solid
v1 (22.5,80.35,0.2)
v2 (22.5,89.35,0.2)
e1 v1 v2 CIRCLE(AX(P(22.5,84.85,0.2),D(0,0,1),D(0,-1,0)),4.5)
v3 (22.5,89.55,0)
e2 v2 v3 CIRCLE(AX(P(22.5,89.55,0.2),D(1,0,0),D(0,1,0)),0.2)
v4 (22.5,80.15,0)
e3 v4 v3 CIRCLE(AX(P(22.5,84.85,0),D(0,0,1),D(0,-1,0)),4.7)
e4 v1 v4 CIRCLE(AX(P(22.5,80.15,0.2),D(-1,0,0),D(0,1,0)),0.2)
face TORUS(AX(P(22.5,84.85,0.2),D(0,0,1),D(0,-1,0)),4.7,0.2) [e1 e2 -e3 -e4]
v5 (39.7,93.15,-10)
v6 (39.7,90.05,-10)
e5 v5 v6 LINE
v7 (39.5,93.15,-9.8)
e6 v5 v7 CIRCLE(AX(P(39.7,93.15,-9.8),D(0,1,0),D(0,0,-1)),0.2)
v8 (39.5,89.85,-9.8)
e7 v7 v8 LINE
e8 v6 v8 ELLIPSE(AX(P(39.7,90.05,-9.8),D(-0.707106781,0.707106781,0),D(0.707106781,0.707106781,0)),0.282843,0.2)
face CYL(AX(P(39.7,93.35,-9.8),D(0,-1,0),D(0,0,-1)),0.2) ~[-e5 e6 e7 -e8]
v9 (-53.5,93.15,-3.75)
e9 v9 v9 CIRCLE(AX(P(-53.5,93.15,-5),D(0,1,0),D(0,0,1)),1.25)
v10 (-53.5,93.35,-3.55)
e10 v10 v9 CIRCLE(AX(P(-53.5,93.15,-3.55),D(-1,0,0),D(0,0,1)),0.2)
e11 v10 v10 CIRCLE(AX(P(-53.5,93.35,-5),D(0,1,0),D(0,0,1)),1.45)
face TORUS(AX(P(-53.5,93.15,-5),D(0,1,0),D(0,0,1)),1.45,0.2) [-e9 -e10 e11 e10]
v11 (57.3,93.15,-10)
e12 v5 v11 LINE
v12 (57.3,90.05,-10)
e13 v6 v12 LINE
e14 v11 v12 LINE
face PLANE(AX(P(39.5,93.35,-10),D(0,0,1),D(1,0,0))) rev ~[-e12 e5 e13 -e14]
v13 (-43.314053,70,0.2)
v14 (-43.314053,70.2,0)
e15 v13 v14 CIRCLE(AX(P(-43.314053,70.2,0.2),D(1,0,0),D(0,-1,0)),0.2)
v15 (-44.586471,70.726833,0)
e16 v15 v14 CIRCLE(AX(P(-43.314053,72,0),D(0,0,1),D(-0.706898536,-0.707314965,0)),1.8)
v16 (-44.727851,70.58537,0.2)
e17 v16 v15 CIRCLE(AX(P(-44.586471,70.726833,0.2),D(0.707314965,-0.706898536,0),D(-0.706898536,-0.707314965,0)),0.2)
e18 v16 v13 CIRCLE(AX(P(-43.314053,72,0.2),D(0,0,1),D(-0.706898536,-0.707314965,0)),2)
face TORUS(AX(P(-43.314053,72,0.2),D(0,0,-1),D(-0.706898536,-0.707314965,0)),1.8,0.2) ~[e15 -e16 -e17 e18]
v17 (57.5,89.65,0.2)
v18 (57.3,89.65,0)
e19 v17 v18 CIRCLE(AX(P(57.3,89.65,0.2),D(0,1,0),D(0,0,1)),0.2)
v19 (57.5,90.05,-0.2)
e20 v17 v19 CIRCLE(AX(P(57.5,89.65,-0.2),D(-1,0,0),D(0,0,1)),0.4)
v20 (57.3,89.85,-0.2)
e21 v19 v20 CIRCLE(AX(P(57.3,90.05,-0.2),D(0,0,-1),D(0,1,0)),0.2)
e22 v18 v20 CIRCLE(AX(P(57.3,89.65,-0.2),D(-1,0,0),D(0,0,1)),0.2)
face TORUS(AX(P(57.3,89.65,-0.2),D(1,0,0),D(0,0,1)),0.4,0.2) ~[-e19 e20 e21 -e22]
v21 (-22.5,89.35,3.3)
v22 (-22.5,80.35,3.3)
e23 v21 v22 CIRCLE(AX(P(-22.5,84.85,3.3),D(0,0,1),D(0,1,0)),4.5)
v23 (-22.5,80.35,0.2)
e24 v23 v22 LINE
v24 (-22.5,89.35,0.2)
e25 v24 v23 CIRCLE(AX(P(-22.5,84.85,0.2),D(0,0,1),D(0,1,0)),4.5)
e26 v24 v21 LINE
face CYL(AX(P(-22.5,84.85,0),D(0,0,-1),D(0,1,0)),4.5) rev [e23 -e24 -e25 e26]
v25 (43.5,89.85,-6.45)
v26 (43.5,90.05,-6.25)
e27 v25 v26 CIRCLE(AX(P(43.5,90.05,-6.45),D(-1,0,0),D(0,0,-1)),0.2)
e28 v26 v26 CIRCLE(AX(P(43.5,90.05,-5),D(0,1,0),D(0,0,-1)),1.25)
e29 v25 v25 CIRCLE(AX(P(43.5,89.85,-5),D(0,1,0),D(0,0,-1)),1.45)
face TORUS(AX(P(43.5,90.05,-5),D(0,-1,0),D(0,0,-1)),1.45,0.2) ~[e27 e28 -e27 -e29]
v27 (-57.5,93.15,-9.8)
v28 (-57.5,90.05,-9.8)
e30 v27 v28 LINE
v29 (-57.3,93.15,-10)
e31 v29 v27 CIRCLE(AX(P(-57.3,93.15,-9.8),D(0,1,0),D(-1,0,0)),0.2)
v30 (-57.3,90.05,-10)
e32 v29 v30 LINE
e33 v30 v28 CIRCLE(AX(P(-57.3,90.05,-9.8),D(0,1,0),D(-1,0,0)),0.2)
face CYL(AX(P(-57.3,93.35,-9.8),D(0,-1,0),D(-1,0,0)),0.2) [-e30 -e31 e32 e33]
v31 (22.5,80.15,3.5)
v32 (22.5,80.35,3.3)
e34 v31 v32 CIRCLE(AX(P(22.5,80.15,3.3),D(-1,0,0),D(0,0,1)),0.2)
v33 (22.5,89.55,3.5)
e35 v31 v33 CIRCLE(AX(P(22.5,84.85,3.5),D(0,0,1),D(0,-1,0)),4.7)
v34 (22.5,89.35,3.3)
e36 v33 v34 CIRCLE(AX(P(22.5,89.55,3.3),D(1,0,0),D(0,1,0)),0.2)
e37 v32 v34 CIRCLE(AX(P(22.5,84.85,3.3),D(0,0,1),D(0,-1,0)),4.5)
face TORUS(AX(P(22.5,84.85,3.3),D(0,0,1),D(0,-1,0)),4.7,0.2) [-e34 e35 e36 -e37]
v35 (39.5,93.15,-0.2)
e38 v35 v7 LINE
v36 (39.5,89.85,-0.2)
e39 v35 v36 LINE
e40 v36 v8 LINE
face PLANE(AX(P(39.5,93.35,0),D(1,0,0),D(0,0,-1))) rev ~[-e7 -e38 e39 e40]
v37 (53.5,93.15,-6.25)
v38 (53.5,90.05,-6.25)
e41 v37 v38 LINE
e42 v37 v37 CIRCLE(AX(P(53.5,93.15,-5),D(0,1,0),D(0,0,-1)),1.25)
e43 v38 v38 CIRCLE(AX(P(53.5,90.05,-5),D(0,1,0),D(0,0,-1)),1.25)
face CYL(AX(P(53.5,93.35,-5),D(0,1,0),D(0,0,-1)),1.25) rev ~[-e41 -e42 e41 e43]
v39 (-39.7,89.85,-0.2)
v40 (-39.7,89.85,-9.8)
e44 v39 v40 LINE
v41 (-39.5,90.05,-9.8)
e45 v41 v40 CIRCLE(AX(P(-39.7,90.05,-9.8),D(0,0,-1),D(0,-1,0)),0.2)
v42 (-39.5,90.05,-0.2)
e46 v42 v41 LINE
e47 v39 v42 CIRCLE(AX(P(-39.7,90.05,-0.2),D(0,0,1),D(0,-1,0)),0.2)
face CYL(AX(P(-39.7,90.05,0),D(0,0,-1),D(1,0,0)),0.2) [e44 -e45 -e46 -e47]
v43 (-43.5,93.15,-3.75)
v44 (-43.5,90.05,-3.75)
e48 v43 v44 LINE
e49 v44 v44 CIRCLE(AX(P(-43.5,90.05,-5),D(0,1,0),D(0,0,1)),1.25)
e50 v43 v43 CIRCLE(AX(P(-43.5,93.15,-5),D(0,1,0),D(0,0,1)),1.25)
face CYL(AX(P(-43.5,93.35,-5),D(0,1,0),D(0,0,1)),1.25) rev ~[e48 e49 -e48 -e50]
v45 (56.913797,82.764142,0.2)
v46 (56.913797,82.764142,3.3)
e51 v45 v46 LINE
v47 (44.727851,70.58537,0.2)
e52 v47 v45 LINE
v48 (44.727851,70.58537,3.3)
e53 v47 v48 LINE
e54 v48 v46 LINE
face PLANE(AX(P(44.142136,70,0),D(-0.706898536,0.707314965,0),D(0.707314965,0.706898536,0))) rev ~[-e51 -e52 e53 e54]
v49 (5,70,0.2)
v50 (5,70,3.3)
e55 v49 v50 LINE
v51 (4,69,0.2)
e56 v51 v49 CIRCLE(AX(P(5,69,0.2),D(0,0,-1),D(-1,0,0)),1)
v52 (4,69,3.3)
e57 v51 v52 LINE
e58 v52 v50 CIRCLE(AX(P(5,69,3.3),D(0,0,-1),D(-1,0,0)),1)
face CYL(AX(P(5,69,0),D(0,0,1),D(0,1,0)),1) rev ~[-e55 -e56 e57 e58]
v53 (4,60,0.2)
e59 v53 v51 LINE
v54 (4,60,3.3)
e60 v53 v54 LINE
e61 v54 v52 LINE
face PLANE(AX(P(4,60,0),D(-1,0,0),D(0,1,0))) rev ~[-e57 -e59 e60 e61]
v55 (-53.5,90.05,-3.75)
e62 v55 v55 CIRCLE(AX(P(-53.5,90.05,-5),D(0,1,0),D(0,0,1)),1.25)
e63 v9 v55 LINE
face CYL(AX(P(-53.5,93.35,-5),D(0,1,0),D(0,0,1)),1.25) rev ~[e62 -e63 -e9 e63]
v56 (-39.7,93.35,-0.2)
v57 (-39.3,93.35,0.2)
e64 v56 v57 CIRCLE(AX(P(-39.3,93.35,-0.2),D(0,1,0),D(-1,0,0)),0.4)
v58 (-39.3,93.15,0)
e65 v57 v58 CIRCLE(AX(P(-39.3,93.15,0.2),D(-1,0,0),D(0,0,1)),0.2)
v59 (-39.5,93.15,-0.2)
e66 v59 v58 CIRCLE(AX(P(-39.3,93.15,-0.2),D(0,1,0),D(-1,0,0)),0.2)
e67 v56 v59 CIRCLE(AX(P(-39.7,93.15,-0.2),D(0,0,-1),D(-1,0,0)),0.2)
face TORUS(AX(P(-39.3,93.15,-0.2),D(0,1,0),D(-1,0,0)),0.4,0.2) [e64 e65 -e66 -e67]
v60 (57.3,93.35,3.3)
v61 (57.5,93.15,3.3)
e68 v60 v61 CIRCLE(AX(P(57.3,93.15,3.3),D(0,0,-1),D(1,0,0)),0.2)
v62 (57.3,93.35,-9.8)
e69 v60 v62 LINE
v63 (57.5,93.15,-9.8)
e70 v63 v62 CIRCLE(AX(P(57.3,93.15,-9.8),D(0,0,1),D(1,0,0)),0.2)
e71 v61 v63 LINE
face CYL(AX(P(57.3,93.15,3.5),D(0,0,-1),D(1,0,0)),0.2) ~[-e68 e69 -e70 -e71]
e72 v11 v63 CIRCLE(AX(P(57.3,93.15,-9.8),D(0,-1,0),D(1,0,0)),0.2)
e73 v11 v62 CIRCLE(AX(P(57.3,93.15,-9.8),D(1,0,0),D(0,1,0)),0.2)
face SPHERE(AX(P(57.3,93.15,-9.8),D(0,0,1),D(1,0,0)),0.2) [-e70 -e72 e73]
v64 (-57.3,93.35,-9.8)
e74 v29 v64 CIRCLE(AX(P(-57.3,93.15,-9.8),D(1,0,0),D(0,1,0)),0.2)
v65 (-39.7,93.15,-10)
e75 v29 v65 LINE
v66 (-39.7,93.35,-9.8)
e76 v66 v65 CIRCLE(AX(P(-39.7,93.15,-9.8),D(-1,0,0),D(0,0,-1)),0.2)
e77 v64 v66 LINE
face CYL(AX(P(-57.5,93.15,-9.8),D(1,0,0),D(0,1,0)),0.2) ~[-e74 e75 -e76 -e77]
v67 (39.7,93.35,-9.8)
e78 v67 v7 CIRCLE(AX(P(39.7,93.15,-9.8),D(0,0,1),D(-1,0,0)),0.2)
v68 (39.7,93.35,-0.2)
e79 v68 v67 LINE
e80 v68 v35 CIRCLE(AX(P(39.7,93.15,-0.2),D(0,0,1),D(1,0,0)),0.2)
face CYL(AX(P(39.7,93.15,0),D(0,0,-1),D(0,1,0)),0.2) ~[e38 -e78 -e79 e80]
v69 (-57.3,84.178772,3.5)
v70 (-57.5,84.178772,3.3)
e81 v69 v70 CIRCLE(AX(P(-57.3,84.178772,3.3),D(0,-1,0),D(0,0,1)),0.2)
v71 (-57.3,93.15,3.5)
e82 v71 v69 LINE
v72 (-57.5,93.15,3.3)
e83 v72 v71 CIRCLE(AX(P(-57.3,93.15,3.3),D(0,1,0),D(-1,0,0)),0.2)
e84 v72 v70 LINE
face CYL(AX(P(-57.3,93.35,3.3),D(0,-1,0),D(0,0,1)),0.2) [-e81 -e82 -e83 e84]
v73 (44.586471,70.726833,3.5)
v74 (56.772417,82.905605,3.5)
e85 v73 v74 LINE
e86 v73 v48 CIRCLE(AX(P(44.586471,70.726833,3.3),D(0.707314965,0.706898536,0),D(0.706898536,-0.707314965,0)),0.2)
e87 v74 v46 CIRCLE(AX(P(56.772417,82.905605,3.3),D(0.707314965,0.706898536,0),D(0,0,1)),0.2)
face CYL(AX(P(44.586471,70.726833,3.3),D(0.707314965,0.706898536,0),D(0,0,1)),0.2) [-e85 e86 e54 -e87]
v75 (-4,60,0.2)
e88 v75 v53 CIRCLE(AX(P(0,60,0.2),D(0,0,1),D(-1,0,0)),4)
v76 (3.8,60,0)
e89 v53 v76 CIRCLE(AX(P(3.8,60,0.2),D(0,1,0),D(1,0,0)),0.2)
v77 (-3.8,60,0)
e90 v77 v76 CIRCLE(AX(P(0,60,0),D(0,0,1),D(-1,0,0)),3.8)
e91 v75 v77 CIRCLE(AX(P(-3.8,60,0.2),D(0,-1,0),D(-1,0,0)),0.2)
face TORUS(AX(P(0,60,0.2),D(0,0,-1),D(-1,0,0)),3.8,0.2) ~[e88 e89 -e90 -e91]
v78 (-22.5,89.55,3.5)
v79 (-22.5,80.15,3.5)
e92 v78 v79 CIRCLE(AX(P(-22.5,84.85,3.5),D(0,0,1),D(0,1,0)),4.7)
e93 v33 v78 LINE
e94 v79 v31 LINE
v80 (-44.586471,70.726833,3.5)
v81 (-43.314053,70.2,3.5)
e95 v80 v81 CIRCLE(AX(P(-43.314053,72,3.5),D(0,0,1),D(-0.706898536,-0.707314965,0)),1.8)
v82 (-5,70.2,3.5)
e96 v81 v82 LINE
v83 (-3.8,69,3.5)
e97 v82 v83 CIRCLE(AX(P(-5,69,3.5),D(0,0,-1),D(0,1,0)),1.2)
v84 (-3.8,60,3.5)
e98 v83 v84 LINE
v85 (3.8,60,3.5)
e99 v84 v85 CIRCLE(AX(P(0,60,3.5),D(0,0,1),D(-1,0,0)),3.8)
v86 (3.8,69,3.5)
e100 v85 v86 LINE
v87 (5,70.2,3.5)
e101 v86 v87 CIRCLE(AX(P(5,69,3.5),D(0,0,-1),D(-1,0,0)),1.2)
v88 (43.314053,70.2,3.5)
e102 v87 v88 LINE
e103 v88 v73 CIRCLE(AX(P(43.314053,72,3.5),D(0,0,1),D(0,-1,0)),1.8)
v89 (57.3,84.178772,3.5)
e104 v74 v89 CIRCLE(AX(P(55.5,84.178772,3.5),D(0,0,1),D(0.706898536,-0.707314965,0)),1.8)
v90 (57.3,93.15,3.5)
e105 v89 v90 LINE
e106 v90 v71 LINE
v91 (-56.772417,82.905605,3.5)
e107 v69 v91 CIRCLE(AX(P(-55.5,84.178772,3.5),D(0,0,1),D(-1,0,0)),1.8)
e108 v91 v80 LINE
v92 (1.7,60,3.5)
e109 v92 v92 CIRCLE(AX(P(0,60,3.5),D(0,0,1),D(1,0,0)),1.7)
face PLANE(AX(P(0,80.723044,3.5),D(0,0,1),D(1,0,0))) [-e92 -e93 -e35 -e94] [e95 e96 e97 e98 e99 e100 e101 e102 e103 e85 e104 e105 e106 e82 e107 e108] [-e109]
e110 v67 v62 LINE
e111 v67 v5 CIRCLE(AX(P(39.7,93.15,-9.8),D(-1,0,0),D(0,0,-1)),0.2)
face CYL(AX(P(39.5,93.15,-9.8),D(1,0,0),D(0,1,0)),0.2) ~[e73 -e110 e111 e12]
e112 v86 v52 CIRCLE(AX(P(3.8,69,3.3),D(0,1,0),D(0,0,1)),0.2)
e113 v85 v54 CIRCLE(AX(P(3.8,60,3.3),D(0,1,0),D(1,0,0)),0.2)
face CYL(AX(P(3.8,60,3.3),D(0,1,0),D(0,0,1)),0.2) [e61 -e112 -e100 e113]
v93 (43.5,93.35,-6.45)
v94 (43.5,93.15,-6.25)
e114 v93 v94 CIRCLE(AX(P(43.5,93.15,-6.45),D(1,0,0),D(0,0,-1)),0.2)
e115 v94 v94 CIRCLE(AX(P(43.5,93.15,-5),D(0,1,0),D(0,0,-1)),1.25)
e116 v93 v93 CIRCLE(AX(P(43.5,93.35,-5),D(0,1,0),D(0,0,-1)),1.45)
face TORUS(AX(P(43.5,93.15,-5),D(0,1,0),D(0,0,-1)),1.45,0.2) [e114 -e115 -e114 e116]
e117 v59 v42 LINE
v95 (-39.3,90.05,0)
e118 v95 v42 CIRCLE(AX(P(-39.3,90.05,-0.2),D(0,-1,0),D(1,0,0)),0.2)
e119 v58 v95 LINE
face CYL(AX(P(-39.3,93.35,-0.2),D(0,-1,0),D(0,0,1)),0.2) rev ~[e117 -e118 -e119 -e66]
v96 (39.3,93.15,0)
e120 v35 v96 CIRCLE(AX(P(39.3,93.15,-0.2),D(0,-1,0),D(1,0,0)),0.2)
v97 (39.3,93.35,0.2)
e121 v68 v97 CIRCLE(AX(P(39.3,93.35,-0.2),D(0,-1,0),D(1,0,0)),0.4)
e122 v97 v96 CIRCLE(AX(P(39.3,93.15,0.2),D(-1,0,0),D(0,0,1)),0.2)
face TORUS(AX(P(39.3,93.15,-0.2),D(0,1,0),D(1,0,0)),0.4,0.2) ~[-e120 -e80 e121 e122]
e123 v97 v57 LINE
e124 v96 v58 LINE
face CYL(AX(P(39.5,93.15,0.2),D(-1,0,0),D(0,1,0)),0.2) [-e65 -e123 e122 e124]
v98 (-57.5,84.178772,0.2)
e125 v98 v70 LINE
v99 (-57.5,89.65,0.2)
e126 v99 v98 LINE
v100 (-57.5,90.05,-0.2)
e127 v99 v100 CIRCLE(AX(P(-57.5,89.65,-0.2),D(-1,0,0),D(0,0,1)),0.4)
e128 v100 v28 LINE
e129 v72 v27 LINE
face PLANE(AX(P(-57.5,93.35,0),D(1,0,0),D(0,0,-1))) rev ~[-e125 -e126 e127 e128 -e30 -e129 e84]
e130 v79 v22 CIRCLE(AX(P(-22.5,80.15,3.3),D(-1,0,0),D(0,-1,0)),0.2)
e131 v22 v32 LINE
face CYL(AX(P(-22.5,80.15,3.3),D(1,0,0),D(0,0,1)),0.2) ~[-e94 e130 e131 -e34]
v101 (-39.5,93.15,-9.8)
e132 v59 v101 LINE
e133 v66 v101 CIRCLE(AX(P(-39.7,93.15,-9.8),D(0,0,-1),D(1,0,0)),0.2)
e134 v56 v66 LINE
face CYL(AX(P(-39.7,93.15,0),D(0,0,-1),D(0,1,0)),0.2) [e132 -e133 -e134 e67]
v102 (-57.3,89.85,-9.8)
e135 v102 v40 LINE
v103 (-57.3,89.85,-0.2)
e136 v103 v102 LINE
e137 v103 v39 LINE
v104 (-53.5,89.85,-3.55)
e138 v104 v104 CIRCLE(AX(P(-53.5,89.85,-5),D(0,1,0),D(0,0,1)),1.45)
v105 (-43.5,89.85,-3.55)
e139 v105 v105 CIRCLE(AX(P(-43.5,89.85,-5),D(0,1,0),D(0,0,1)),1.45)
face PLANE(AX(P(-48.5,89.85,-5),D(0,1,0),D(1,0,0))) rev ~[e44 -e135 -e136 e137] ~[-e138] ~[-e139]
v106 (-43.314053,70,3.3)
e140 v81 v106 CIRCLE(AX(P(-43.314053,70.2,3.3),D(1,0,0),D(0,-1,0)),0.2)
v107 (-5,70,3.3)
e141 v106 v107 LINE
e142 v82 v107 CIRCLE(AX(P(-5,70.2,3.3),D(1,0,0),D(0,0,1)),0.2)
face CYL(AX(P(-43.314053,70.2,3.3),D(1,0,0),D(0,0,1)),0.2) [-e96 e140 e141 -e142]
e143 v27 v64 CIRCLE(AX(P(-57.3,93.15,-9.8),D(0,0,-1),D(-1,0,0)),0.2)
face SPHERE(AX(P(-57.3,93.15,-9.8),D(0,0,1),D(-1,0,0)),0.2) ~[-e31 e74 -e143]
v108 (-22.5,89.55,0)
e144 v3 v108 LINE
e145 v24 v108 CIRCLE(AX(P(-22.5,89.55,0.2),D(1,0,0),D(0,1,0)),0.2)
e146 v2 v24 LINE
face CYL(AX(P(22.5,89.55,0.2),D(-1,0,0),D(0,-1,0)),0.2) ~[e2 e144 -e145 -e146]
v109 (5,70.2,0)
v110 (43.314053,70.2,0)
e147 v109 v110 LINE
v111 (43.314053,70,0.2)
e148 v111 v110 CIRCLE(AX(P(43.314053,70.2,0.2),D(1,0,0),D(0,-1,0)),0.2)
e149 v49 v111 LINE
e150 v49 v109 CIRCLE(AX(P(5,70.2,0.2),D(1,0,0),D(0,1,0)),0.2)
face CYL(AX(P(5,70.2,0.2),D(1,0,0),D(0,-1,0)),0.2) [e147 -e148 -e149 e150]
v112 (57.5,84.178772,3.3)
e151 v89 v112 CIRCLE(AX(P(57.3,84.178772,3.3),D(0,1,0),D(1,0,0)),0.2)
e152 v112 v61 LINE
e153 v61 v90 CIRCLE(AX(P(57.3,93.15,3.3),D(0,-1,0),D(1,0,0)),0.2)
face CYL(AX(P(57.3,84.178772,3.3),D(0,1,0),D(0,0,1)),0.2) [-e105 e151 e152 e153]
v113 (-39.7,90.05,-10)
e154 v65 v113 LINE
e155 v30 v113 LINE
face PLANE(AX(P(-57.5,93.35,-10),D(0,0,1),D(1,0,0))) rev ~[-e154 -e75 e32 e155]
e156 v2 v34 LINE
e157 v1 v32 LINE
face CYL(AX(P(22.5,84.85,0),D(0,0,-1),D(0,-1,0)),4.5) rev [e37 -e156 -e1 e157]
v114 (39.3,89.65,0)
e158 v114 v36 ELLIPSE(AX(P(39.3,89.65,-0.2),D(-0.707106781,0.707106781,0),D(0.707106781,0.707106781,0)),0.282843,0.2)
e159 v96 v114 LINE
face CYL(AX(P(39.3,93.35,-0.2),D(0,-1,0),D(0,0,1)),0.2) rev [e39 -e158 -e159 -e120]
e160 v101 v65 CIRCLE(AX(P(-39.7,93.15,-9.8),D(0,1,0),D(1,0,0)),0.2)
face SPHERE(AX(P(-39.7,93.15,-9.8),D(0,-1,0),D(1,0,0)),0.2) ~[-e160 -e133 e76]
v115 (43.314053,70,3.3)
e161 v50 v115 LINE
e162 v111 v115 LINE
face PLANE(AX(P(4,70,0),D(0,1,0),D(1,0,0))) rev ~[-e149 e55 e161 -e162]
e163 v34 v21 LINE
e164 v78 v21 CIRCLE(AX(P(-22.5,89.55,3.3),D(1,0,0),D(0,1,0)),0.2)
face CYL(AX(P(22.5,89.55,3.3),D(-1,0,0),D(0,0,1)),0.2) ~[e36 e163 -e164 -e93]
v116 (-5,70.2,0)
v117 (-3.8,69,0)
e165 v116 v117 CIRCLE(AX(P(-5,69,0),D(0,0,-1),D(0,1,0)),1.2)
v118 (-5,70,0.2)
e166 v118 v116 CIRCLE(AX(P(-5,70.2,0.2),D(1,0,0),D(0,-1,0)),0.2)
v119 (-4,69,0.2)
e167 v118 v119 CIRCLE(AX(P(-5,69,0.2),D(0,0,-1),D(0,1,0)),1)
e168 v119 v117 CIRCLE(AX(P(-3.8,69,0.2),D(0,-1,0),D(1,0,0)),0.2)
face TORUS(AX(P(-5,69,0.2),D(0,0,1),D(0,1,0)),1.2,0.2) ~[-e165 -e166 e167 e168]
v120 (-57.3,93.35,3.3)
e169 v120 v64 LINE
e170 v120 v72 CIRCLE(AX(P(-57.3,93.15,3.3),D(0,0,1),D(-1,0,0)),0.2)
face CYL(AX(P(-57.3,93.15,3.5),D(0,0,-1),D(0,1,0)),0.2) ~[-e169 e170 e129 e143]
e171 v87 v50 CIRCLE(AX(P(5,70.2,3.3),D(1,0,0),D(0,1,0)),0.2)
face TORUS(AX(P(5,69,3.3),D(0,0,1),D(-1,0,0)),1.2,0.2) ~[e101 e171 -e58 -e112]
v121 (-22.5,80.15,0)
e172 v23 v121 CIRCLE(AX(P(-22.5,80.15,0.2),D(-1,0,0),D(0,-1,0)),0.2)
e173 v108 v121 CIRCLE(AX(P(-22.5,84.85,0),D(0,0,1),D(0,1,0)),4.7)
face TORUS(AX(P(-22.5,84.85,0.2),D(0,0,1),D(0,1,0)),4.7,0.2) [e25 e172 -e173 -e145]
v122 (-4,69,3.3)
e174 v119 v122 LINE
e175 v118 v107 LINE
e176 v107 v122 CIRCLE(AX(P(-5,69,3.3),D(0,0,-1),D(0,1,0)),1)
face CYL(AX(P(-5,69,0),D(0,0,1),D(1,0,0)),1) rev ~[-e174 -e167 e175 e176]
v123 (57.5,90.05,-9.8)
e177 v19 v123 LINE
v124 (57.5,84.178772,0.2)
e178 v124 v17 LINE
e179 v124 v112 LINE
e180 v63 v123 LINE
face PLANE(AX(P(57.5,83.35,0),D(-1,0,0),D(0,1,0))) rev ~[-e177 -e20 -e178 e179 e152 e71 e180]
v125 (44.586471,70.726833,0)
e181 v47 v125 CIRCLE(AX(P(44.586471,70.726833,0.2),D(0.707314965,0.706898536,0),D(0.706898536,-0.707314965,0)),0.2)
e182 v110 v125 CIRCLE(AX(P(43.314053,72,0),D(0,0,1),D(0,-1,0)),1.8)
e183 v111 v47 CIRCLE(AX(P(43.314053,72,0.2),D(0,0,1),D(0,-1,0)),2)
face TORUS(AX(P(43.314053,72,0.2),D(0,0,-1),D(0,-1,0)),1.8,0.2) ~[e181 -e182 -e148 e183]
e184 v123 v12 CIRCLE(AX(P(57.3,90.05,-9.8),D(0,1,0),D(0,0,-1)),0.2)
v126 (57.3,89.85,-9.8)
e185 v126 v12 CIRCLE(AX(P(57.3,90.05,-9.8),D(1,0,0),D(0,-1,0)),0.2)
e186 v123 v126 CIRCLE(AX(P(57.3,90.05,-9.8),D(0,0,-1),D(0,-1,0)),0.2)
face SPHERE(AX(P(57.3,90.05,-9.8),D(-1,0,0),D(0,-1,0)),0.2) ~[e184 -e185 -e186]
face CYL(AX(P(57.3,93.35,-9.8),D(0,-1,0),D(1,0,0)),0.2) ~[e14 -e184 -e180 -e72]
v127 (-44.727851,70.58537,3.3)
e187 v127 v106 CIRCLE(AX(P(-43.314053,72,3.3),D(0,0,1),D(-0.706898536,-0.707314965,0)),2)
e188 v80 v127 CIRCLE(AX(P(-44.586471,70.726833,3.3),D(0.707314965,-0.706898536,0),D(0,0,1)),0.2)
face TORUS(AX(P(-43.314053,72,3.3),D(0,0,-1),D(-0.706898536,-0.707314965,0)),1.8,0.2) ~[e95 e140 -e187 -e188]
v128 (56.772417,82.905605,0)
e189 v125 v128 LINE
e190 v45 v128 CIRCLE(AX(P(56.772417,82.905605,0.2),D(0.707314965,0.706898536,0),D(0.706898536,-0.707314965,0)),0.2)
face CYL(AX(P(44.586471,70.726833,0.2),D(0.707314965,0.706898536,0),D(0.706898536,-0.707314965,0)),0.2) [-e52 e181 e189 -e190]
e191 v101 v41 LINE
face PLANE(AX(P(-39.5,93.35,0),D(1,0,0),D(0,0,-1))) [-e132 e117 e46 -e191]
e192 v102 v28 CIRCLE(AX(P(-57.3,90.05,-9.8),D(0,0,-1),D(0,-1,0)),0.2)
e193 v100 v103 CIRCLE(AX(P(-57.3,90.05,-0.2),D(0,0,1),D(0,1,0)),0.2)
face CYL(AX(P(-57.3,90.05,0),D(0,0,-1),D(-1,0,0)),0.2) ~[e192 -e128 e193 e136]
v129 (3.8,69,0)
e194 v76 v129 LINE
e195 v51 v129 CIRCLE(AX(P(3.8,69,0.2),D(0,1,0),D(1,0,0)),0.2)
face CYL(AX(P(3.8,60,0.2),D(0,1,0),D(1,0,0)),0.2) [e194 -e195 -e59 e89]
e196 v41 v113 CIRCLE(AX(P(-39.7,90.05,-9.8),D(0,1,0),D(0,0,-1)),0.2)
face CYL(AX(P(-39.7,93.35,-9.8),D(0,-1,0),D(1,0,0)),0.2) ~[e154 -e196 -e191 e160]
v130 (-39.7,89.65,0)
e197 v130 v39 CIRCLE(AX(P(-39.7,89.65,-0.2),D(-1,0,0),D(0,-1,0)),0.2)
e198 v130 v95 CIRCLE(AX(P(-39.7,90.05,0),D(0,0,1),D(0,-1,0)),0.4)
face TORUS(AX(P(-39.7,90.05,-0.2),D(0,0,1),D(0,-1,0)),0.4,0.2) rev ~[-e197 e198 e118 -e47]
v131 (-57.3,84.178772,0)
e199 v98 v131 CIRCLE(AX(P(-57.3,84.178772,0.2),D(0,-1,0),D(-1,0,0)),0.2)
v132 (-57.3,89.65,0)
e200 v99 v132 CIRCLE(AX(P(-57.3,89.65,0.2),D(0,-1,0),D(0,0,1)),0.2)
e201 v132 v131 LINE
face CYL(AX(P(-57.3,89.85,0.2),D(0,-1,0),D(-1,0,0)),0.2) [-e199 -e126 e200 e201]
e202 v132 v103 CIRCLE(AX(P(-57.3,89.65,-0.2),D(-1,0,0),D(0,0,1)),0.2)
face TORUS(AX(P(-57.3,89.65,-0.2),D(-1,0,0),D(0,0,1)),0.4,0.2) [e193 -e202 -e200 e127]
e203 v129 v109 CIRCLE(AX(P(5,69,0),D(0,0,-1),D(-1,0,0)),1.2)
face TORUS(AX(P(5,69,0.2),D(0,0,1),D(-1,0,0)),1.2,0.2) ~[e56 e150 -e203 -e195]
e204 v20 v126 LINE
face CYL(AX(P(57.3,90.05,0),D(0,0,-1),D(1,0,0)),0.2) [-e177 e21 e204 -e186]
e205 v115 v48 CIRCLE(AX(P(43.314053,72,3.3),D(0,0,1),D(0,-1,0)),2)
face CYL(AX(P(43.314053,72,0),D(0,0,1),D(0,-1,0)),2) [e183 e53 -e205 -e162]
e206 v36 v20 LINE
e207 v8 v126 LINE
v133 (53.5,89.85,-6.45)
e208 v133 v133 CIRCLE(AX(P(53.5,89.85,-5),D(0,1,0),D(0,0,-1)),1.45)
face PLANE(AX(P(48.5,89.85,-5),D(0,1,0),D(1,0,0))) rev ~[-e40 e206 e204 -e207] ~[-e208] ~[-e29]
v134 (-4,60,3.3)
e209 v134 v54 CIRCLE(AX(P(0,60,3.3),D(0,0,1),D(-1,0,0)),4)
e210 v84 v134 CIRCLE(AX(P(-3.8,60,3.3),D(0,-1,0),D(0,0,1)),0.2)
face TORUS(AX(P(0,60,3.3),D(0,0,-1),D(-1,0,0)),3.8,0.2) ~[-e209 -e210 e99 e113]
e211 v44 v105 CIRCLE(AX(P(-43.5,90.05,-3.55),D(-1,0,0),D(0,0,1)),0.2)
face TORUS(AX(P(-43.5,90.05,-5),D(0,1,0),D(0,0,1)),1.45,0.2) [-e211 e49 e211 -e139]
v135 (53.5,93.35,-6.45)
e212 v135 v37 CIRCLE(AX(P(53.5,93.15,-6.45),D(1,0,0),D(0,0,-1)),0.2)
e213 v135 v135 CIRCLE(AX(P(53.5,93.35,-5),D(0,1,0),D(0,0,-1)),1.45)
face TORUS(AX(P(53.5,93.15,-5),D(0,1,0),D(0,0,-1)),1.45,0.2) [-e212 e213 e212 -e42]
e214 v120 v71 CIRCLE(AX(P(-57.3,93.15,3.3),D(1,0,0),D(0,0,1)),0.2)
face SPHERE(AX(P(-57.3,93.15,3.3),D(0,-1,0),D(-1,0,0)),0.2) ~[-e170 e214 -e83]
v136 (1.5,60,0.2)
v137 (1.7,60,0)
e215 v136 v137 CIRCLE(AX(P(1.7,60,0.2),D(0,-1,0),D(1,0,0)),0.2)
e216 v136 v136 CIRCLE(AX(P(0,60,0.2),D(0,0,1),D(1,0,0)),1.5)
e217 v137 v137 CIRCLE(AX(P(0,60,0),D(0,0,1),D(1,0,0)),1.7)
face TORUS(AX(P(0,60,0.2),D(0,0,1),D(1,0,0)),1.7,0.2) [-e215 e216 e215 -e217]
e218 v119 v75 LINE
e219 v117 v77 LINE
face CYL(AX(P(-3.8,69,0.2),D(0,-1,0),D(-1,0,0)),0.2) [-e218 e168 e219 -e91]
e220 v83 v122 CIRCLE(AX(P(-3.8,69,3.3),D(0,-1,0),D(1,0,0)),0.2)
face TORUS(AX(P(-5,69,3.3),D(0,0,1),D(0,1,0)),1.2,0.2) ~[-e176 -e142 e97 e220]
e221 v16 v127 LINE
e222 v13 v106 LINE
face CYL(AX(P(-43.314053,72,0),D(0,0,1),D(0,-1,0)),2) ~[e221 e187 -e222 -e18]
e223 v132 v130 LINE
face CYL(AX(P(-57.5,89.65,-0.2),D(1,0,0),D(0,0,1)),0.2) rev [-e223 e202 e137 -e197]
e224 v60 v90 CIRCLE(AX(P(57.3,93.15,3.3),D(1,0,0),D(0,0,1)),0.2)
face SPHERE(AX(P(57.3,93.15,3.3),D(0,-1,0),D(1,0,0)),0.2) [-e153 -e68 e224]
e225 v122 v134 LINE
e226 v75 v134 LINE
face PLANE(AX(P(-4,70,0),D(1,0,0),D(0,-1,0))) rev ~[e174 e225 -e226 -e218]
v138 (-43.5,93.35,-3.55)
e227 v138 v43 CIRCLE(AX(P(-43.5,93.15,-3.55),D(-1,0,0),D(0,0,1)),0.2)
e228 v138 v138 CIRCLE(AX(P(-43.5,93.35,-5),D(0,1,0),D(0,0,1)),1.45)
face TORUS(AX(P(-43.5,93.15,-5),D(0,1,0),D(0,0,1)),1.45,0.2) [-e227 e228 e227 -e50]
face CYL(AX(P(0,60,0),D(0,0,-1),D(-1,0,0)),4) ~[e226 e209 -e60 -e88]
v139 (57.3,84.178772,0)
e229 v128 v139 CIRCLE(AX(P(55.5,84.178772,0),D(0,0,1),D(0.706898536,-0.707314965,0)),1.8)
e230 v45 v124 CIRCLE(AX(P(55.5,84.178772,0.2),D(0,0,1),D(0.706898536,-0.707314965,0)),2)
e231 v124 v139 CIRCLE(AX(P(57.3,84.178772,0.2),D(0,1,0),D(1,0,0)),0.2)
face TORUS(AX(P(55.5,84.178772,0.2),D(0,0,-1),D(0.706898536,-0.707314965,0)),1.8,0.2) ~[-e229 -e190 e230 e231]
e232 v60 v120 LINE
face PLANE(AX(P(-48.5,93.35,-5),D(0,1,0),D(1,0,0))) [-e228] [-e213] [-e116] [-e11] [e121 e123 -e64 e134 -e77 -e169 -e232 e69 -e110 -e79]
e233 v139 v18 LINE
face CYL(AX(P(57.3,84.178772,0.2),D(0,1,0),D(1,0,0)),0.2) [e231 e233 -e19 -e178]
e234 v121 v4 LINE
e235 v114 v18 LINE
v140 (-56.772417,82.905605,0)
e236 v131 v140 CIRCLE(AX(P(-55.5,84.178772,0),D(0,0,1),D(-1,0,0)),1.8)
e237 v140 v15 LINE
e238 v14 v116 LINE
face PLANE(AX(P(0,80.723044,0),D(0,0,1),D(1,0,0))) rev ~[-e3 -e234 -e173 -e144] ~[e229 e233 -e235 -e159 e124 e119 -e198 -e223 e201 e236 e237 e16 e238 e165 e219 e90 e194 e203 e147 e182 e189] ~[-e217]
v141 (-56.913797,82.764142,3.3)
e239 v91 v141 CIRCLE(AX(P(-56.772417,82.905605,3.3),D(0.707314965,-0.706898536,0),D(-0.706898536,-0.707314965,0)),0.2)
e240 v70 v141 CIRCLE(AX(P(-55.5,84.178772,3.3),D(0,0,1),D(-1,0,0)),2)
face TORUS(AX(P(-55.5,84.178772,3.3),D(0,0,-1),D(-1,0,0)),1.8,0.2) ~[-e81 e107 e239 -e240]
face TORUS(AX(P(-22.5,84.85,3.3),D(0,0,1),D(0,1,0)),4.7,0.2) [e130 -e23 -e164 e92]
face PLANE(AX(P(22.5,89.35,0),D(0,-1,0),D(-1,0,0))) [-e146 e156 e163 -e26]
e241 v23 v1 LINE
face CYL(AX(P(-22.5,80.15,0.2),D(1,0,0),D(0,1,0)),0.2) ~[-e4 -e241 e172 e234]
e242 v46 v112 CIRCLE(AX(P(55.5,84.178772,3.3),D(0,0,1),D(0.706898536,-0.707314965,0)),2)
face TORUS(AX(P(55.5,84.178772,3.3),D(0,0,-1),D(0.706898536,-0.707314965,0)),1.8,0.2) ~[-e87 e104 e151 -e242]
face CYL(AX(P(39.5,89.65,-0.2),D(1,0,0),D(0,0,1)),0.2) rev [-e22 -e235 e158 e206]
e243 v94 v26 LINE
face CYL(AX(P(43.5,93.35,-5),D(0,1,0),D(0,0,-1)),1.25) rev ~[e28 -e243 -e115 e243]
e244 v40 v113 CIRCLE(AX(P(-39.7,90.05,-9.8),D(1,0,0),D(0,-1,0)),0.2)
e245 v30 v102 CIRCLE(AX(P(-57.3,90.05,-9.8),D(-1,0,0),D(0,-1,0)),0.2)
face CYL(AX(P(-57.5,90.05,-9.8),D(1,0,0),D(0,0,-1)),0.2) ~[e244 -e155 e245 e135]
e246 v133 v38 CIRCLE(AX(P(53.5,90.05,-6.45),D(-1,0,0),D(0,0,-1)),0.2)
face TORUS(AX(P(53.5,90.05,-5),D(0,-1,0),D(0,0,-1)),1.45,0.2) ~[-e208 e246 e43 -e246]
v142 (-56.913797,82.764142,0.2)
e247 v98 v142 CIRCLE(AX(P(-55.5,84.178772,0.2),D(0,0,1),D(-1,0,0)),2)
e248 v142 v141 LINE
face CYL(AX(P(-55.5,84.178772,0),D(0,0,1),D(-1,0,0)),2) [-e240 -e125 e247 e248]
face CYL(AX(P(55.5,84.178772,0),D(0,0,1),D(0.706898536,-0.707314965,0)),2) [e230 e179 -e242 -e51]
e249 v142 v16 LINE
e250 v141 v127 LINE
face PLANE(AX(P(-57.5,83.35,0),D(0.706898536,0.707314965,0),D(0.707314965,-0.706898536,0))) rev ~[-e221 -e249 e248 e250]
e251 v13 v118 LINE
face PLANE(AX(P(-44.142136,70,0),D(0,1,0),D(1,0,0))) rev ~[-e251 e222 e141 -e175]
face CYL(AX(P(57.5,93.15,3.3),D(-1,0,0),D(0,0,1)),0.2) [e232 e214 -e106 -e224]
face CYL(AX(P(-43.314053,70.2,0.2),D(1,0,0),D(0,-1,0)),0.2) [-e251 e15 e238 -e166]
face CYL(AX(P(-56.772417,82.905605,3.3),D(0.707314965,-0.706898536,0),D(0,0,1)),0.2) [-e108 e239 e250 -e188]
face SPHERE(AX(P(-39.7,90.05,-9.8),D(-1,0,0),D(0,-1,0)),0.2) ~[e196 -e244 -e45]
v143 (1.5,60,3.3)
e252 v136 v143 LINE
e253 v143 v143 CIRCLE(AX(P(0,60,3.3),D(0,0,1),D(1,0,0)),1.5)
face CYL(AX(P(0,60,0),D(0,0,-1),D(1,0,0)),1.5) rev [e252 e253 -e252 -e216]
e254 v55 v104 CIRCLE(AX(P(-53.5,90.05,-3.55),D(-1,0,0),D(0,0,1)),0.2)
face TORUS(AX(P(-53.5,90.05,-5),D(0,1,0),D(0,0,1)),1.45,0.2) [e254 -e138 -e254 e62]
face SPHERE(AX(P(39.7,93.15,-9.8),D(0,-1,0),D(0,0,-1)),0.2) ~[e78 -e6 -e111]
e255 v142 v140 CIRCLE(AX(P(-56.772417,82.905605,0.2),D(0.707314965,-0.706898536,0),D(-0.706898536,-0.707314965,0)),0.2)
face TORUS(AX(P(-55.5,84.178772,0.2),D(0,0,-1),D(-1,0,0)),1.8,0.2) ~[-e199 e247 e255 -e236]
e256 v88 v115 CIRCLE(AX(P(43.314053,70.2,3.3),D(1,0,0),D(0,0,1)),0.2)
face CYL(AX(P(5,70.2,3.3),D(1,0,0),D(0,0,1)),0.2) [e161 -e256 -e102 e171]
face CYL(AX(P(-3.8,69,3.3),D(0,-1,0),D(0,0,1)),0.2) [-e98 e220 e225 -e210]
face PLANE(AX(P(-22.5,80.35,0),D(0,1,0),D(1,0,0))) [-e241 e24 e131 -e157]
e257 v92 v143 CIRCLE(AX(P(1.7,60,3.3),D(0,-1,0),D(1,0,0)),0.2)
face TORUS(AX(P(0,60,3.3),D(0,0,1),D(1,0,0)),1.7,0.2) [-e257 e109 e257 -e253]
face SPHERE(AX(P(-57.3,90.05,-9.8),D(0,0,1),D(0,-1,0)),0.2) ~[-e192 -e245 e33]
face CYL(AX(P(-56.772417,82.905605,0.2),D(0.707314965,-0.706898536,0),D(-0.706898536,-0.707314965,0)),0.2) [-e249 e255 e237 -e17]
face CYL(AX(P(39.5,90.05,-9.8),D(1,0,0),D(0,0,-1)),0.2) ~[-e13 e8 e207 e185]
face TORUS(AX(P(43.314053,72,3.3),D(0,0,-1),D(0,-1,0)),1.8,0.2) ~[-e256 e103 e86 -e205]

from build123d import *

# Parameters (mm, degrees)
SKETCH5_R           = 1.5
BOSS_EXTRUDE1_DEPTH = 3.5
SKETCH6_W           = 18
SKETCH6_H           = 10
SKETCH6_R           = 1.25
BOSS_EXTRUDE2_DEPTH = 3.5
FILLET1_R           = 2
FILLET2_R           = 1
FILLET3_R           = 0.2


with BuildPart() as part:
    # Sketch5 → Boss-Extrude1 (new body)
    with BuildSketch(Plane.XY):
        with BuildLine():
            Line((4, 60), (4, 70))
            Line((4, 70), (44.142135624, 70))
            Line((44.142135624, 70), (57.5, 83.35))
            Line((57.5, 83.35), (57.5, 93.35))
            Line((57.5, 93.35), (-57.5, 93.35))
            Line((-57.5, 93.35), (-57.5, 83.35))
            Line((-57.5, 83.35), (-44.142135624, 70))
            Line((-44.142135624, 70), (-4, 70))
            Line((-4, 70), (-4, 60))
            ThreePointArc((-4, 60), (0, 56), (4, 60))
        make_face()
        with Locations((0, 60)):
            Circle(SKETCH5_R, mode=Mode.SUBTRACT)
        with BuildLine():
            Line((22.5, 89.35), (-22.5, 89.35))
            ThreePointArc((-22.5, 89.35), (-27, 84.85), (-22.5, 80.35))
            Line((-22.5, 80.35), (22.5, 80.35))
            ThreePointArc((22.5, 80.35), (27, 84.85), (22.5, 89.35))
        make_face(mode=Mode.SUBTRACT)
    extrude(amount=BOSS_EXTRUDE1_DEPTH)

    # Sketch6 → Boss-Extrude2 (add)
    # profile 1 of 2: a face of its own
    with BuildSketch(Plane(origin=(0, 93.35, 0), x_dir=(1, 0, 0), z_dir=(0, 1, 0))):
        with Locations((-48.5, 5)):
            Rectangle(SKETCH6_W, SKETCH6_H)
        with Locations(Location((-53.5, 5, 0), (0, 0, 270))):
            Circle(SKETCH6_R, mode=Mode.SUBTRACT)
        with Locations(Location((-43.5, 5, 0), (0, 0, 270))):
            Circle(SKETCH6_R, mode=Mode.SUBTRACT)
    # profile 2 of 2: a face of its own
    with BuildSketch(Plane(origin=(0, 93.35, 0), x_dir=(1, 0, 0), z_dir=(0, 1, 0))):
        with Locations((48.5, 5)):
            Rectangle(SKETCH6_W, SKETCH6_H)
        with Locations(Location((43.5, 5, 0), (0, 0, 90))):
            Circle(SKETCH6_R, mode=Mode.SUBTRACT)
        with Locations(Location((53.5, 5, 0), (0, 0, 90))):
            Circle(SKETCH6_R, mode=Mode.SUBTRACT)
    extrude(amount=-BOSS_EXTRUDE2_DEPTH)

    # Fillet1
    fillet1_edges = [part.edges().sort_by_distance(p)[0] for p in [
        (-44.142135624, 70, 1.75),
        (-57.5, 83.35, 1.75),
        (57.5, 83.35, 1.75),
        (44.142135624, 70, 1.75),
    ]]
    fillet(fillet1_edges, radius=FILLET1_R)

    # Fillet2
    fillet2_edges = [part.edges().sort_by_distance(p)[0] for p in [
        (-4, 70, 1.75),
        (4, 70, 1.75),
    ]]
    fillet(fillet2_edges, radius=FILLET2_R)

    # Fillet3
    fillet3_edges = [part.edges().sort_by_distance(p)[0] for p in [
        (-4, 64.5, 0),
        (-4, 64.5, 3.5),
        (24.157026729, 70, 0),
        (24.157026729, 70, 3.5),
        (-4.292893219, 69.707106781, 0),
        (-4.292893219, 69.707106781, 3.5),
        (4.292893219, 69.707106781, 0),
        (4.292893219, 69.707106781, 3.5),
        (4, 64.5, 0),
        (0, 56, 0),
        (-57.5, 93.35, -3.25),
        (57.5, 93.35, -3.25),
        (0, 93.35, 3.5),
        (-57.5, 88.764386063, 3.5),
        (-27, 84.85, 0),
        (0, 80.35, 0),
        (27, 84.85, 0),
        (0, 89.35, 0),
        (-27, 84.85, 3.5),
        (0, 80.35, 3.5),
        (27, 84.85, 3.5),
        (0, 89.35, 3.5),
        (-1.5, 60, 0),
        (-1.5, 60, 3.5),
        (-57.5, 87.014386063, 0),
        (0, 56, 3.5),
        (-57.5, 89.85, -5),
        (-48.5, 89.85, -10),
        (-57.5, 91.6, -10),
        (-39.5, 89.85, -5),
        (-39.5, 91.6, -10),
        (-48.5, 89.85, 0),
        (-39.5, 91.6, 0),
        (-43.5, 89.85, -6.25),
        (-53.5, 89.85, -6.25),
        (-39.5, 93.35, -5),
        (-48.5, 93.35, -10),
        (-53.5, 93.35, -6.25),
        (-43.5, 93.35, -6.25),
        (0, 93.35, 0),
        (48.5, 89.85, -10),
        (39.5, 91.6, -10),
        (57.5, 89.85, -5),
        (57.5, 91.6, -10),
        (48.5, 89.85, 0),
        (39.5, 91.6, 0),
        (53.5, 89.85, -3.75),
        (43.5, 89.85, -3.75),
        (48.5, 93.35, -10),
        (39.5, 93.35, -5),
        (43.5, 93.35, -3.75),
        (53.5, 93.35, -3.75),
        (50.820823802, 76.674756134, 0),
        (50.820823802, 76.674756134, 3.5),
        (57.5, 87.014386063, 0),
        (-24.157026729, 70, 0),
        (-50.820823802, 76.674756134, 0),
        (-57.34764636, 83.413133225, 0),
        (-44.07914827, 70.15212827, 0),
        (57.34764636, 83.413133225, 0),
        (44.07914827, 70.15212827, 0),
        (4, 64.5, 3.5),
        (57.5, 88.764386063, 3.5),
        (-50.820823802, 76.674756134, 3.5),
        (-24.157026729, 70, 3.5),
        (-57.34764636, 83.413133225, 3.5),
        (-44.07914827, 70.15212827, 3.5),
        (57.34764636, 83.413133225, 3.5),
        (44.07914827, 70.15212827, 3.5),
    ]]
    fillet(fillet3_edges, radius=FILLET3_R)


solid = part.part
